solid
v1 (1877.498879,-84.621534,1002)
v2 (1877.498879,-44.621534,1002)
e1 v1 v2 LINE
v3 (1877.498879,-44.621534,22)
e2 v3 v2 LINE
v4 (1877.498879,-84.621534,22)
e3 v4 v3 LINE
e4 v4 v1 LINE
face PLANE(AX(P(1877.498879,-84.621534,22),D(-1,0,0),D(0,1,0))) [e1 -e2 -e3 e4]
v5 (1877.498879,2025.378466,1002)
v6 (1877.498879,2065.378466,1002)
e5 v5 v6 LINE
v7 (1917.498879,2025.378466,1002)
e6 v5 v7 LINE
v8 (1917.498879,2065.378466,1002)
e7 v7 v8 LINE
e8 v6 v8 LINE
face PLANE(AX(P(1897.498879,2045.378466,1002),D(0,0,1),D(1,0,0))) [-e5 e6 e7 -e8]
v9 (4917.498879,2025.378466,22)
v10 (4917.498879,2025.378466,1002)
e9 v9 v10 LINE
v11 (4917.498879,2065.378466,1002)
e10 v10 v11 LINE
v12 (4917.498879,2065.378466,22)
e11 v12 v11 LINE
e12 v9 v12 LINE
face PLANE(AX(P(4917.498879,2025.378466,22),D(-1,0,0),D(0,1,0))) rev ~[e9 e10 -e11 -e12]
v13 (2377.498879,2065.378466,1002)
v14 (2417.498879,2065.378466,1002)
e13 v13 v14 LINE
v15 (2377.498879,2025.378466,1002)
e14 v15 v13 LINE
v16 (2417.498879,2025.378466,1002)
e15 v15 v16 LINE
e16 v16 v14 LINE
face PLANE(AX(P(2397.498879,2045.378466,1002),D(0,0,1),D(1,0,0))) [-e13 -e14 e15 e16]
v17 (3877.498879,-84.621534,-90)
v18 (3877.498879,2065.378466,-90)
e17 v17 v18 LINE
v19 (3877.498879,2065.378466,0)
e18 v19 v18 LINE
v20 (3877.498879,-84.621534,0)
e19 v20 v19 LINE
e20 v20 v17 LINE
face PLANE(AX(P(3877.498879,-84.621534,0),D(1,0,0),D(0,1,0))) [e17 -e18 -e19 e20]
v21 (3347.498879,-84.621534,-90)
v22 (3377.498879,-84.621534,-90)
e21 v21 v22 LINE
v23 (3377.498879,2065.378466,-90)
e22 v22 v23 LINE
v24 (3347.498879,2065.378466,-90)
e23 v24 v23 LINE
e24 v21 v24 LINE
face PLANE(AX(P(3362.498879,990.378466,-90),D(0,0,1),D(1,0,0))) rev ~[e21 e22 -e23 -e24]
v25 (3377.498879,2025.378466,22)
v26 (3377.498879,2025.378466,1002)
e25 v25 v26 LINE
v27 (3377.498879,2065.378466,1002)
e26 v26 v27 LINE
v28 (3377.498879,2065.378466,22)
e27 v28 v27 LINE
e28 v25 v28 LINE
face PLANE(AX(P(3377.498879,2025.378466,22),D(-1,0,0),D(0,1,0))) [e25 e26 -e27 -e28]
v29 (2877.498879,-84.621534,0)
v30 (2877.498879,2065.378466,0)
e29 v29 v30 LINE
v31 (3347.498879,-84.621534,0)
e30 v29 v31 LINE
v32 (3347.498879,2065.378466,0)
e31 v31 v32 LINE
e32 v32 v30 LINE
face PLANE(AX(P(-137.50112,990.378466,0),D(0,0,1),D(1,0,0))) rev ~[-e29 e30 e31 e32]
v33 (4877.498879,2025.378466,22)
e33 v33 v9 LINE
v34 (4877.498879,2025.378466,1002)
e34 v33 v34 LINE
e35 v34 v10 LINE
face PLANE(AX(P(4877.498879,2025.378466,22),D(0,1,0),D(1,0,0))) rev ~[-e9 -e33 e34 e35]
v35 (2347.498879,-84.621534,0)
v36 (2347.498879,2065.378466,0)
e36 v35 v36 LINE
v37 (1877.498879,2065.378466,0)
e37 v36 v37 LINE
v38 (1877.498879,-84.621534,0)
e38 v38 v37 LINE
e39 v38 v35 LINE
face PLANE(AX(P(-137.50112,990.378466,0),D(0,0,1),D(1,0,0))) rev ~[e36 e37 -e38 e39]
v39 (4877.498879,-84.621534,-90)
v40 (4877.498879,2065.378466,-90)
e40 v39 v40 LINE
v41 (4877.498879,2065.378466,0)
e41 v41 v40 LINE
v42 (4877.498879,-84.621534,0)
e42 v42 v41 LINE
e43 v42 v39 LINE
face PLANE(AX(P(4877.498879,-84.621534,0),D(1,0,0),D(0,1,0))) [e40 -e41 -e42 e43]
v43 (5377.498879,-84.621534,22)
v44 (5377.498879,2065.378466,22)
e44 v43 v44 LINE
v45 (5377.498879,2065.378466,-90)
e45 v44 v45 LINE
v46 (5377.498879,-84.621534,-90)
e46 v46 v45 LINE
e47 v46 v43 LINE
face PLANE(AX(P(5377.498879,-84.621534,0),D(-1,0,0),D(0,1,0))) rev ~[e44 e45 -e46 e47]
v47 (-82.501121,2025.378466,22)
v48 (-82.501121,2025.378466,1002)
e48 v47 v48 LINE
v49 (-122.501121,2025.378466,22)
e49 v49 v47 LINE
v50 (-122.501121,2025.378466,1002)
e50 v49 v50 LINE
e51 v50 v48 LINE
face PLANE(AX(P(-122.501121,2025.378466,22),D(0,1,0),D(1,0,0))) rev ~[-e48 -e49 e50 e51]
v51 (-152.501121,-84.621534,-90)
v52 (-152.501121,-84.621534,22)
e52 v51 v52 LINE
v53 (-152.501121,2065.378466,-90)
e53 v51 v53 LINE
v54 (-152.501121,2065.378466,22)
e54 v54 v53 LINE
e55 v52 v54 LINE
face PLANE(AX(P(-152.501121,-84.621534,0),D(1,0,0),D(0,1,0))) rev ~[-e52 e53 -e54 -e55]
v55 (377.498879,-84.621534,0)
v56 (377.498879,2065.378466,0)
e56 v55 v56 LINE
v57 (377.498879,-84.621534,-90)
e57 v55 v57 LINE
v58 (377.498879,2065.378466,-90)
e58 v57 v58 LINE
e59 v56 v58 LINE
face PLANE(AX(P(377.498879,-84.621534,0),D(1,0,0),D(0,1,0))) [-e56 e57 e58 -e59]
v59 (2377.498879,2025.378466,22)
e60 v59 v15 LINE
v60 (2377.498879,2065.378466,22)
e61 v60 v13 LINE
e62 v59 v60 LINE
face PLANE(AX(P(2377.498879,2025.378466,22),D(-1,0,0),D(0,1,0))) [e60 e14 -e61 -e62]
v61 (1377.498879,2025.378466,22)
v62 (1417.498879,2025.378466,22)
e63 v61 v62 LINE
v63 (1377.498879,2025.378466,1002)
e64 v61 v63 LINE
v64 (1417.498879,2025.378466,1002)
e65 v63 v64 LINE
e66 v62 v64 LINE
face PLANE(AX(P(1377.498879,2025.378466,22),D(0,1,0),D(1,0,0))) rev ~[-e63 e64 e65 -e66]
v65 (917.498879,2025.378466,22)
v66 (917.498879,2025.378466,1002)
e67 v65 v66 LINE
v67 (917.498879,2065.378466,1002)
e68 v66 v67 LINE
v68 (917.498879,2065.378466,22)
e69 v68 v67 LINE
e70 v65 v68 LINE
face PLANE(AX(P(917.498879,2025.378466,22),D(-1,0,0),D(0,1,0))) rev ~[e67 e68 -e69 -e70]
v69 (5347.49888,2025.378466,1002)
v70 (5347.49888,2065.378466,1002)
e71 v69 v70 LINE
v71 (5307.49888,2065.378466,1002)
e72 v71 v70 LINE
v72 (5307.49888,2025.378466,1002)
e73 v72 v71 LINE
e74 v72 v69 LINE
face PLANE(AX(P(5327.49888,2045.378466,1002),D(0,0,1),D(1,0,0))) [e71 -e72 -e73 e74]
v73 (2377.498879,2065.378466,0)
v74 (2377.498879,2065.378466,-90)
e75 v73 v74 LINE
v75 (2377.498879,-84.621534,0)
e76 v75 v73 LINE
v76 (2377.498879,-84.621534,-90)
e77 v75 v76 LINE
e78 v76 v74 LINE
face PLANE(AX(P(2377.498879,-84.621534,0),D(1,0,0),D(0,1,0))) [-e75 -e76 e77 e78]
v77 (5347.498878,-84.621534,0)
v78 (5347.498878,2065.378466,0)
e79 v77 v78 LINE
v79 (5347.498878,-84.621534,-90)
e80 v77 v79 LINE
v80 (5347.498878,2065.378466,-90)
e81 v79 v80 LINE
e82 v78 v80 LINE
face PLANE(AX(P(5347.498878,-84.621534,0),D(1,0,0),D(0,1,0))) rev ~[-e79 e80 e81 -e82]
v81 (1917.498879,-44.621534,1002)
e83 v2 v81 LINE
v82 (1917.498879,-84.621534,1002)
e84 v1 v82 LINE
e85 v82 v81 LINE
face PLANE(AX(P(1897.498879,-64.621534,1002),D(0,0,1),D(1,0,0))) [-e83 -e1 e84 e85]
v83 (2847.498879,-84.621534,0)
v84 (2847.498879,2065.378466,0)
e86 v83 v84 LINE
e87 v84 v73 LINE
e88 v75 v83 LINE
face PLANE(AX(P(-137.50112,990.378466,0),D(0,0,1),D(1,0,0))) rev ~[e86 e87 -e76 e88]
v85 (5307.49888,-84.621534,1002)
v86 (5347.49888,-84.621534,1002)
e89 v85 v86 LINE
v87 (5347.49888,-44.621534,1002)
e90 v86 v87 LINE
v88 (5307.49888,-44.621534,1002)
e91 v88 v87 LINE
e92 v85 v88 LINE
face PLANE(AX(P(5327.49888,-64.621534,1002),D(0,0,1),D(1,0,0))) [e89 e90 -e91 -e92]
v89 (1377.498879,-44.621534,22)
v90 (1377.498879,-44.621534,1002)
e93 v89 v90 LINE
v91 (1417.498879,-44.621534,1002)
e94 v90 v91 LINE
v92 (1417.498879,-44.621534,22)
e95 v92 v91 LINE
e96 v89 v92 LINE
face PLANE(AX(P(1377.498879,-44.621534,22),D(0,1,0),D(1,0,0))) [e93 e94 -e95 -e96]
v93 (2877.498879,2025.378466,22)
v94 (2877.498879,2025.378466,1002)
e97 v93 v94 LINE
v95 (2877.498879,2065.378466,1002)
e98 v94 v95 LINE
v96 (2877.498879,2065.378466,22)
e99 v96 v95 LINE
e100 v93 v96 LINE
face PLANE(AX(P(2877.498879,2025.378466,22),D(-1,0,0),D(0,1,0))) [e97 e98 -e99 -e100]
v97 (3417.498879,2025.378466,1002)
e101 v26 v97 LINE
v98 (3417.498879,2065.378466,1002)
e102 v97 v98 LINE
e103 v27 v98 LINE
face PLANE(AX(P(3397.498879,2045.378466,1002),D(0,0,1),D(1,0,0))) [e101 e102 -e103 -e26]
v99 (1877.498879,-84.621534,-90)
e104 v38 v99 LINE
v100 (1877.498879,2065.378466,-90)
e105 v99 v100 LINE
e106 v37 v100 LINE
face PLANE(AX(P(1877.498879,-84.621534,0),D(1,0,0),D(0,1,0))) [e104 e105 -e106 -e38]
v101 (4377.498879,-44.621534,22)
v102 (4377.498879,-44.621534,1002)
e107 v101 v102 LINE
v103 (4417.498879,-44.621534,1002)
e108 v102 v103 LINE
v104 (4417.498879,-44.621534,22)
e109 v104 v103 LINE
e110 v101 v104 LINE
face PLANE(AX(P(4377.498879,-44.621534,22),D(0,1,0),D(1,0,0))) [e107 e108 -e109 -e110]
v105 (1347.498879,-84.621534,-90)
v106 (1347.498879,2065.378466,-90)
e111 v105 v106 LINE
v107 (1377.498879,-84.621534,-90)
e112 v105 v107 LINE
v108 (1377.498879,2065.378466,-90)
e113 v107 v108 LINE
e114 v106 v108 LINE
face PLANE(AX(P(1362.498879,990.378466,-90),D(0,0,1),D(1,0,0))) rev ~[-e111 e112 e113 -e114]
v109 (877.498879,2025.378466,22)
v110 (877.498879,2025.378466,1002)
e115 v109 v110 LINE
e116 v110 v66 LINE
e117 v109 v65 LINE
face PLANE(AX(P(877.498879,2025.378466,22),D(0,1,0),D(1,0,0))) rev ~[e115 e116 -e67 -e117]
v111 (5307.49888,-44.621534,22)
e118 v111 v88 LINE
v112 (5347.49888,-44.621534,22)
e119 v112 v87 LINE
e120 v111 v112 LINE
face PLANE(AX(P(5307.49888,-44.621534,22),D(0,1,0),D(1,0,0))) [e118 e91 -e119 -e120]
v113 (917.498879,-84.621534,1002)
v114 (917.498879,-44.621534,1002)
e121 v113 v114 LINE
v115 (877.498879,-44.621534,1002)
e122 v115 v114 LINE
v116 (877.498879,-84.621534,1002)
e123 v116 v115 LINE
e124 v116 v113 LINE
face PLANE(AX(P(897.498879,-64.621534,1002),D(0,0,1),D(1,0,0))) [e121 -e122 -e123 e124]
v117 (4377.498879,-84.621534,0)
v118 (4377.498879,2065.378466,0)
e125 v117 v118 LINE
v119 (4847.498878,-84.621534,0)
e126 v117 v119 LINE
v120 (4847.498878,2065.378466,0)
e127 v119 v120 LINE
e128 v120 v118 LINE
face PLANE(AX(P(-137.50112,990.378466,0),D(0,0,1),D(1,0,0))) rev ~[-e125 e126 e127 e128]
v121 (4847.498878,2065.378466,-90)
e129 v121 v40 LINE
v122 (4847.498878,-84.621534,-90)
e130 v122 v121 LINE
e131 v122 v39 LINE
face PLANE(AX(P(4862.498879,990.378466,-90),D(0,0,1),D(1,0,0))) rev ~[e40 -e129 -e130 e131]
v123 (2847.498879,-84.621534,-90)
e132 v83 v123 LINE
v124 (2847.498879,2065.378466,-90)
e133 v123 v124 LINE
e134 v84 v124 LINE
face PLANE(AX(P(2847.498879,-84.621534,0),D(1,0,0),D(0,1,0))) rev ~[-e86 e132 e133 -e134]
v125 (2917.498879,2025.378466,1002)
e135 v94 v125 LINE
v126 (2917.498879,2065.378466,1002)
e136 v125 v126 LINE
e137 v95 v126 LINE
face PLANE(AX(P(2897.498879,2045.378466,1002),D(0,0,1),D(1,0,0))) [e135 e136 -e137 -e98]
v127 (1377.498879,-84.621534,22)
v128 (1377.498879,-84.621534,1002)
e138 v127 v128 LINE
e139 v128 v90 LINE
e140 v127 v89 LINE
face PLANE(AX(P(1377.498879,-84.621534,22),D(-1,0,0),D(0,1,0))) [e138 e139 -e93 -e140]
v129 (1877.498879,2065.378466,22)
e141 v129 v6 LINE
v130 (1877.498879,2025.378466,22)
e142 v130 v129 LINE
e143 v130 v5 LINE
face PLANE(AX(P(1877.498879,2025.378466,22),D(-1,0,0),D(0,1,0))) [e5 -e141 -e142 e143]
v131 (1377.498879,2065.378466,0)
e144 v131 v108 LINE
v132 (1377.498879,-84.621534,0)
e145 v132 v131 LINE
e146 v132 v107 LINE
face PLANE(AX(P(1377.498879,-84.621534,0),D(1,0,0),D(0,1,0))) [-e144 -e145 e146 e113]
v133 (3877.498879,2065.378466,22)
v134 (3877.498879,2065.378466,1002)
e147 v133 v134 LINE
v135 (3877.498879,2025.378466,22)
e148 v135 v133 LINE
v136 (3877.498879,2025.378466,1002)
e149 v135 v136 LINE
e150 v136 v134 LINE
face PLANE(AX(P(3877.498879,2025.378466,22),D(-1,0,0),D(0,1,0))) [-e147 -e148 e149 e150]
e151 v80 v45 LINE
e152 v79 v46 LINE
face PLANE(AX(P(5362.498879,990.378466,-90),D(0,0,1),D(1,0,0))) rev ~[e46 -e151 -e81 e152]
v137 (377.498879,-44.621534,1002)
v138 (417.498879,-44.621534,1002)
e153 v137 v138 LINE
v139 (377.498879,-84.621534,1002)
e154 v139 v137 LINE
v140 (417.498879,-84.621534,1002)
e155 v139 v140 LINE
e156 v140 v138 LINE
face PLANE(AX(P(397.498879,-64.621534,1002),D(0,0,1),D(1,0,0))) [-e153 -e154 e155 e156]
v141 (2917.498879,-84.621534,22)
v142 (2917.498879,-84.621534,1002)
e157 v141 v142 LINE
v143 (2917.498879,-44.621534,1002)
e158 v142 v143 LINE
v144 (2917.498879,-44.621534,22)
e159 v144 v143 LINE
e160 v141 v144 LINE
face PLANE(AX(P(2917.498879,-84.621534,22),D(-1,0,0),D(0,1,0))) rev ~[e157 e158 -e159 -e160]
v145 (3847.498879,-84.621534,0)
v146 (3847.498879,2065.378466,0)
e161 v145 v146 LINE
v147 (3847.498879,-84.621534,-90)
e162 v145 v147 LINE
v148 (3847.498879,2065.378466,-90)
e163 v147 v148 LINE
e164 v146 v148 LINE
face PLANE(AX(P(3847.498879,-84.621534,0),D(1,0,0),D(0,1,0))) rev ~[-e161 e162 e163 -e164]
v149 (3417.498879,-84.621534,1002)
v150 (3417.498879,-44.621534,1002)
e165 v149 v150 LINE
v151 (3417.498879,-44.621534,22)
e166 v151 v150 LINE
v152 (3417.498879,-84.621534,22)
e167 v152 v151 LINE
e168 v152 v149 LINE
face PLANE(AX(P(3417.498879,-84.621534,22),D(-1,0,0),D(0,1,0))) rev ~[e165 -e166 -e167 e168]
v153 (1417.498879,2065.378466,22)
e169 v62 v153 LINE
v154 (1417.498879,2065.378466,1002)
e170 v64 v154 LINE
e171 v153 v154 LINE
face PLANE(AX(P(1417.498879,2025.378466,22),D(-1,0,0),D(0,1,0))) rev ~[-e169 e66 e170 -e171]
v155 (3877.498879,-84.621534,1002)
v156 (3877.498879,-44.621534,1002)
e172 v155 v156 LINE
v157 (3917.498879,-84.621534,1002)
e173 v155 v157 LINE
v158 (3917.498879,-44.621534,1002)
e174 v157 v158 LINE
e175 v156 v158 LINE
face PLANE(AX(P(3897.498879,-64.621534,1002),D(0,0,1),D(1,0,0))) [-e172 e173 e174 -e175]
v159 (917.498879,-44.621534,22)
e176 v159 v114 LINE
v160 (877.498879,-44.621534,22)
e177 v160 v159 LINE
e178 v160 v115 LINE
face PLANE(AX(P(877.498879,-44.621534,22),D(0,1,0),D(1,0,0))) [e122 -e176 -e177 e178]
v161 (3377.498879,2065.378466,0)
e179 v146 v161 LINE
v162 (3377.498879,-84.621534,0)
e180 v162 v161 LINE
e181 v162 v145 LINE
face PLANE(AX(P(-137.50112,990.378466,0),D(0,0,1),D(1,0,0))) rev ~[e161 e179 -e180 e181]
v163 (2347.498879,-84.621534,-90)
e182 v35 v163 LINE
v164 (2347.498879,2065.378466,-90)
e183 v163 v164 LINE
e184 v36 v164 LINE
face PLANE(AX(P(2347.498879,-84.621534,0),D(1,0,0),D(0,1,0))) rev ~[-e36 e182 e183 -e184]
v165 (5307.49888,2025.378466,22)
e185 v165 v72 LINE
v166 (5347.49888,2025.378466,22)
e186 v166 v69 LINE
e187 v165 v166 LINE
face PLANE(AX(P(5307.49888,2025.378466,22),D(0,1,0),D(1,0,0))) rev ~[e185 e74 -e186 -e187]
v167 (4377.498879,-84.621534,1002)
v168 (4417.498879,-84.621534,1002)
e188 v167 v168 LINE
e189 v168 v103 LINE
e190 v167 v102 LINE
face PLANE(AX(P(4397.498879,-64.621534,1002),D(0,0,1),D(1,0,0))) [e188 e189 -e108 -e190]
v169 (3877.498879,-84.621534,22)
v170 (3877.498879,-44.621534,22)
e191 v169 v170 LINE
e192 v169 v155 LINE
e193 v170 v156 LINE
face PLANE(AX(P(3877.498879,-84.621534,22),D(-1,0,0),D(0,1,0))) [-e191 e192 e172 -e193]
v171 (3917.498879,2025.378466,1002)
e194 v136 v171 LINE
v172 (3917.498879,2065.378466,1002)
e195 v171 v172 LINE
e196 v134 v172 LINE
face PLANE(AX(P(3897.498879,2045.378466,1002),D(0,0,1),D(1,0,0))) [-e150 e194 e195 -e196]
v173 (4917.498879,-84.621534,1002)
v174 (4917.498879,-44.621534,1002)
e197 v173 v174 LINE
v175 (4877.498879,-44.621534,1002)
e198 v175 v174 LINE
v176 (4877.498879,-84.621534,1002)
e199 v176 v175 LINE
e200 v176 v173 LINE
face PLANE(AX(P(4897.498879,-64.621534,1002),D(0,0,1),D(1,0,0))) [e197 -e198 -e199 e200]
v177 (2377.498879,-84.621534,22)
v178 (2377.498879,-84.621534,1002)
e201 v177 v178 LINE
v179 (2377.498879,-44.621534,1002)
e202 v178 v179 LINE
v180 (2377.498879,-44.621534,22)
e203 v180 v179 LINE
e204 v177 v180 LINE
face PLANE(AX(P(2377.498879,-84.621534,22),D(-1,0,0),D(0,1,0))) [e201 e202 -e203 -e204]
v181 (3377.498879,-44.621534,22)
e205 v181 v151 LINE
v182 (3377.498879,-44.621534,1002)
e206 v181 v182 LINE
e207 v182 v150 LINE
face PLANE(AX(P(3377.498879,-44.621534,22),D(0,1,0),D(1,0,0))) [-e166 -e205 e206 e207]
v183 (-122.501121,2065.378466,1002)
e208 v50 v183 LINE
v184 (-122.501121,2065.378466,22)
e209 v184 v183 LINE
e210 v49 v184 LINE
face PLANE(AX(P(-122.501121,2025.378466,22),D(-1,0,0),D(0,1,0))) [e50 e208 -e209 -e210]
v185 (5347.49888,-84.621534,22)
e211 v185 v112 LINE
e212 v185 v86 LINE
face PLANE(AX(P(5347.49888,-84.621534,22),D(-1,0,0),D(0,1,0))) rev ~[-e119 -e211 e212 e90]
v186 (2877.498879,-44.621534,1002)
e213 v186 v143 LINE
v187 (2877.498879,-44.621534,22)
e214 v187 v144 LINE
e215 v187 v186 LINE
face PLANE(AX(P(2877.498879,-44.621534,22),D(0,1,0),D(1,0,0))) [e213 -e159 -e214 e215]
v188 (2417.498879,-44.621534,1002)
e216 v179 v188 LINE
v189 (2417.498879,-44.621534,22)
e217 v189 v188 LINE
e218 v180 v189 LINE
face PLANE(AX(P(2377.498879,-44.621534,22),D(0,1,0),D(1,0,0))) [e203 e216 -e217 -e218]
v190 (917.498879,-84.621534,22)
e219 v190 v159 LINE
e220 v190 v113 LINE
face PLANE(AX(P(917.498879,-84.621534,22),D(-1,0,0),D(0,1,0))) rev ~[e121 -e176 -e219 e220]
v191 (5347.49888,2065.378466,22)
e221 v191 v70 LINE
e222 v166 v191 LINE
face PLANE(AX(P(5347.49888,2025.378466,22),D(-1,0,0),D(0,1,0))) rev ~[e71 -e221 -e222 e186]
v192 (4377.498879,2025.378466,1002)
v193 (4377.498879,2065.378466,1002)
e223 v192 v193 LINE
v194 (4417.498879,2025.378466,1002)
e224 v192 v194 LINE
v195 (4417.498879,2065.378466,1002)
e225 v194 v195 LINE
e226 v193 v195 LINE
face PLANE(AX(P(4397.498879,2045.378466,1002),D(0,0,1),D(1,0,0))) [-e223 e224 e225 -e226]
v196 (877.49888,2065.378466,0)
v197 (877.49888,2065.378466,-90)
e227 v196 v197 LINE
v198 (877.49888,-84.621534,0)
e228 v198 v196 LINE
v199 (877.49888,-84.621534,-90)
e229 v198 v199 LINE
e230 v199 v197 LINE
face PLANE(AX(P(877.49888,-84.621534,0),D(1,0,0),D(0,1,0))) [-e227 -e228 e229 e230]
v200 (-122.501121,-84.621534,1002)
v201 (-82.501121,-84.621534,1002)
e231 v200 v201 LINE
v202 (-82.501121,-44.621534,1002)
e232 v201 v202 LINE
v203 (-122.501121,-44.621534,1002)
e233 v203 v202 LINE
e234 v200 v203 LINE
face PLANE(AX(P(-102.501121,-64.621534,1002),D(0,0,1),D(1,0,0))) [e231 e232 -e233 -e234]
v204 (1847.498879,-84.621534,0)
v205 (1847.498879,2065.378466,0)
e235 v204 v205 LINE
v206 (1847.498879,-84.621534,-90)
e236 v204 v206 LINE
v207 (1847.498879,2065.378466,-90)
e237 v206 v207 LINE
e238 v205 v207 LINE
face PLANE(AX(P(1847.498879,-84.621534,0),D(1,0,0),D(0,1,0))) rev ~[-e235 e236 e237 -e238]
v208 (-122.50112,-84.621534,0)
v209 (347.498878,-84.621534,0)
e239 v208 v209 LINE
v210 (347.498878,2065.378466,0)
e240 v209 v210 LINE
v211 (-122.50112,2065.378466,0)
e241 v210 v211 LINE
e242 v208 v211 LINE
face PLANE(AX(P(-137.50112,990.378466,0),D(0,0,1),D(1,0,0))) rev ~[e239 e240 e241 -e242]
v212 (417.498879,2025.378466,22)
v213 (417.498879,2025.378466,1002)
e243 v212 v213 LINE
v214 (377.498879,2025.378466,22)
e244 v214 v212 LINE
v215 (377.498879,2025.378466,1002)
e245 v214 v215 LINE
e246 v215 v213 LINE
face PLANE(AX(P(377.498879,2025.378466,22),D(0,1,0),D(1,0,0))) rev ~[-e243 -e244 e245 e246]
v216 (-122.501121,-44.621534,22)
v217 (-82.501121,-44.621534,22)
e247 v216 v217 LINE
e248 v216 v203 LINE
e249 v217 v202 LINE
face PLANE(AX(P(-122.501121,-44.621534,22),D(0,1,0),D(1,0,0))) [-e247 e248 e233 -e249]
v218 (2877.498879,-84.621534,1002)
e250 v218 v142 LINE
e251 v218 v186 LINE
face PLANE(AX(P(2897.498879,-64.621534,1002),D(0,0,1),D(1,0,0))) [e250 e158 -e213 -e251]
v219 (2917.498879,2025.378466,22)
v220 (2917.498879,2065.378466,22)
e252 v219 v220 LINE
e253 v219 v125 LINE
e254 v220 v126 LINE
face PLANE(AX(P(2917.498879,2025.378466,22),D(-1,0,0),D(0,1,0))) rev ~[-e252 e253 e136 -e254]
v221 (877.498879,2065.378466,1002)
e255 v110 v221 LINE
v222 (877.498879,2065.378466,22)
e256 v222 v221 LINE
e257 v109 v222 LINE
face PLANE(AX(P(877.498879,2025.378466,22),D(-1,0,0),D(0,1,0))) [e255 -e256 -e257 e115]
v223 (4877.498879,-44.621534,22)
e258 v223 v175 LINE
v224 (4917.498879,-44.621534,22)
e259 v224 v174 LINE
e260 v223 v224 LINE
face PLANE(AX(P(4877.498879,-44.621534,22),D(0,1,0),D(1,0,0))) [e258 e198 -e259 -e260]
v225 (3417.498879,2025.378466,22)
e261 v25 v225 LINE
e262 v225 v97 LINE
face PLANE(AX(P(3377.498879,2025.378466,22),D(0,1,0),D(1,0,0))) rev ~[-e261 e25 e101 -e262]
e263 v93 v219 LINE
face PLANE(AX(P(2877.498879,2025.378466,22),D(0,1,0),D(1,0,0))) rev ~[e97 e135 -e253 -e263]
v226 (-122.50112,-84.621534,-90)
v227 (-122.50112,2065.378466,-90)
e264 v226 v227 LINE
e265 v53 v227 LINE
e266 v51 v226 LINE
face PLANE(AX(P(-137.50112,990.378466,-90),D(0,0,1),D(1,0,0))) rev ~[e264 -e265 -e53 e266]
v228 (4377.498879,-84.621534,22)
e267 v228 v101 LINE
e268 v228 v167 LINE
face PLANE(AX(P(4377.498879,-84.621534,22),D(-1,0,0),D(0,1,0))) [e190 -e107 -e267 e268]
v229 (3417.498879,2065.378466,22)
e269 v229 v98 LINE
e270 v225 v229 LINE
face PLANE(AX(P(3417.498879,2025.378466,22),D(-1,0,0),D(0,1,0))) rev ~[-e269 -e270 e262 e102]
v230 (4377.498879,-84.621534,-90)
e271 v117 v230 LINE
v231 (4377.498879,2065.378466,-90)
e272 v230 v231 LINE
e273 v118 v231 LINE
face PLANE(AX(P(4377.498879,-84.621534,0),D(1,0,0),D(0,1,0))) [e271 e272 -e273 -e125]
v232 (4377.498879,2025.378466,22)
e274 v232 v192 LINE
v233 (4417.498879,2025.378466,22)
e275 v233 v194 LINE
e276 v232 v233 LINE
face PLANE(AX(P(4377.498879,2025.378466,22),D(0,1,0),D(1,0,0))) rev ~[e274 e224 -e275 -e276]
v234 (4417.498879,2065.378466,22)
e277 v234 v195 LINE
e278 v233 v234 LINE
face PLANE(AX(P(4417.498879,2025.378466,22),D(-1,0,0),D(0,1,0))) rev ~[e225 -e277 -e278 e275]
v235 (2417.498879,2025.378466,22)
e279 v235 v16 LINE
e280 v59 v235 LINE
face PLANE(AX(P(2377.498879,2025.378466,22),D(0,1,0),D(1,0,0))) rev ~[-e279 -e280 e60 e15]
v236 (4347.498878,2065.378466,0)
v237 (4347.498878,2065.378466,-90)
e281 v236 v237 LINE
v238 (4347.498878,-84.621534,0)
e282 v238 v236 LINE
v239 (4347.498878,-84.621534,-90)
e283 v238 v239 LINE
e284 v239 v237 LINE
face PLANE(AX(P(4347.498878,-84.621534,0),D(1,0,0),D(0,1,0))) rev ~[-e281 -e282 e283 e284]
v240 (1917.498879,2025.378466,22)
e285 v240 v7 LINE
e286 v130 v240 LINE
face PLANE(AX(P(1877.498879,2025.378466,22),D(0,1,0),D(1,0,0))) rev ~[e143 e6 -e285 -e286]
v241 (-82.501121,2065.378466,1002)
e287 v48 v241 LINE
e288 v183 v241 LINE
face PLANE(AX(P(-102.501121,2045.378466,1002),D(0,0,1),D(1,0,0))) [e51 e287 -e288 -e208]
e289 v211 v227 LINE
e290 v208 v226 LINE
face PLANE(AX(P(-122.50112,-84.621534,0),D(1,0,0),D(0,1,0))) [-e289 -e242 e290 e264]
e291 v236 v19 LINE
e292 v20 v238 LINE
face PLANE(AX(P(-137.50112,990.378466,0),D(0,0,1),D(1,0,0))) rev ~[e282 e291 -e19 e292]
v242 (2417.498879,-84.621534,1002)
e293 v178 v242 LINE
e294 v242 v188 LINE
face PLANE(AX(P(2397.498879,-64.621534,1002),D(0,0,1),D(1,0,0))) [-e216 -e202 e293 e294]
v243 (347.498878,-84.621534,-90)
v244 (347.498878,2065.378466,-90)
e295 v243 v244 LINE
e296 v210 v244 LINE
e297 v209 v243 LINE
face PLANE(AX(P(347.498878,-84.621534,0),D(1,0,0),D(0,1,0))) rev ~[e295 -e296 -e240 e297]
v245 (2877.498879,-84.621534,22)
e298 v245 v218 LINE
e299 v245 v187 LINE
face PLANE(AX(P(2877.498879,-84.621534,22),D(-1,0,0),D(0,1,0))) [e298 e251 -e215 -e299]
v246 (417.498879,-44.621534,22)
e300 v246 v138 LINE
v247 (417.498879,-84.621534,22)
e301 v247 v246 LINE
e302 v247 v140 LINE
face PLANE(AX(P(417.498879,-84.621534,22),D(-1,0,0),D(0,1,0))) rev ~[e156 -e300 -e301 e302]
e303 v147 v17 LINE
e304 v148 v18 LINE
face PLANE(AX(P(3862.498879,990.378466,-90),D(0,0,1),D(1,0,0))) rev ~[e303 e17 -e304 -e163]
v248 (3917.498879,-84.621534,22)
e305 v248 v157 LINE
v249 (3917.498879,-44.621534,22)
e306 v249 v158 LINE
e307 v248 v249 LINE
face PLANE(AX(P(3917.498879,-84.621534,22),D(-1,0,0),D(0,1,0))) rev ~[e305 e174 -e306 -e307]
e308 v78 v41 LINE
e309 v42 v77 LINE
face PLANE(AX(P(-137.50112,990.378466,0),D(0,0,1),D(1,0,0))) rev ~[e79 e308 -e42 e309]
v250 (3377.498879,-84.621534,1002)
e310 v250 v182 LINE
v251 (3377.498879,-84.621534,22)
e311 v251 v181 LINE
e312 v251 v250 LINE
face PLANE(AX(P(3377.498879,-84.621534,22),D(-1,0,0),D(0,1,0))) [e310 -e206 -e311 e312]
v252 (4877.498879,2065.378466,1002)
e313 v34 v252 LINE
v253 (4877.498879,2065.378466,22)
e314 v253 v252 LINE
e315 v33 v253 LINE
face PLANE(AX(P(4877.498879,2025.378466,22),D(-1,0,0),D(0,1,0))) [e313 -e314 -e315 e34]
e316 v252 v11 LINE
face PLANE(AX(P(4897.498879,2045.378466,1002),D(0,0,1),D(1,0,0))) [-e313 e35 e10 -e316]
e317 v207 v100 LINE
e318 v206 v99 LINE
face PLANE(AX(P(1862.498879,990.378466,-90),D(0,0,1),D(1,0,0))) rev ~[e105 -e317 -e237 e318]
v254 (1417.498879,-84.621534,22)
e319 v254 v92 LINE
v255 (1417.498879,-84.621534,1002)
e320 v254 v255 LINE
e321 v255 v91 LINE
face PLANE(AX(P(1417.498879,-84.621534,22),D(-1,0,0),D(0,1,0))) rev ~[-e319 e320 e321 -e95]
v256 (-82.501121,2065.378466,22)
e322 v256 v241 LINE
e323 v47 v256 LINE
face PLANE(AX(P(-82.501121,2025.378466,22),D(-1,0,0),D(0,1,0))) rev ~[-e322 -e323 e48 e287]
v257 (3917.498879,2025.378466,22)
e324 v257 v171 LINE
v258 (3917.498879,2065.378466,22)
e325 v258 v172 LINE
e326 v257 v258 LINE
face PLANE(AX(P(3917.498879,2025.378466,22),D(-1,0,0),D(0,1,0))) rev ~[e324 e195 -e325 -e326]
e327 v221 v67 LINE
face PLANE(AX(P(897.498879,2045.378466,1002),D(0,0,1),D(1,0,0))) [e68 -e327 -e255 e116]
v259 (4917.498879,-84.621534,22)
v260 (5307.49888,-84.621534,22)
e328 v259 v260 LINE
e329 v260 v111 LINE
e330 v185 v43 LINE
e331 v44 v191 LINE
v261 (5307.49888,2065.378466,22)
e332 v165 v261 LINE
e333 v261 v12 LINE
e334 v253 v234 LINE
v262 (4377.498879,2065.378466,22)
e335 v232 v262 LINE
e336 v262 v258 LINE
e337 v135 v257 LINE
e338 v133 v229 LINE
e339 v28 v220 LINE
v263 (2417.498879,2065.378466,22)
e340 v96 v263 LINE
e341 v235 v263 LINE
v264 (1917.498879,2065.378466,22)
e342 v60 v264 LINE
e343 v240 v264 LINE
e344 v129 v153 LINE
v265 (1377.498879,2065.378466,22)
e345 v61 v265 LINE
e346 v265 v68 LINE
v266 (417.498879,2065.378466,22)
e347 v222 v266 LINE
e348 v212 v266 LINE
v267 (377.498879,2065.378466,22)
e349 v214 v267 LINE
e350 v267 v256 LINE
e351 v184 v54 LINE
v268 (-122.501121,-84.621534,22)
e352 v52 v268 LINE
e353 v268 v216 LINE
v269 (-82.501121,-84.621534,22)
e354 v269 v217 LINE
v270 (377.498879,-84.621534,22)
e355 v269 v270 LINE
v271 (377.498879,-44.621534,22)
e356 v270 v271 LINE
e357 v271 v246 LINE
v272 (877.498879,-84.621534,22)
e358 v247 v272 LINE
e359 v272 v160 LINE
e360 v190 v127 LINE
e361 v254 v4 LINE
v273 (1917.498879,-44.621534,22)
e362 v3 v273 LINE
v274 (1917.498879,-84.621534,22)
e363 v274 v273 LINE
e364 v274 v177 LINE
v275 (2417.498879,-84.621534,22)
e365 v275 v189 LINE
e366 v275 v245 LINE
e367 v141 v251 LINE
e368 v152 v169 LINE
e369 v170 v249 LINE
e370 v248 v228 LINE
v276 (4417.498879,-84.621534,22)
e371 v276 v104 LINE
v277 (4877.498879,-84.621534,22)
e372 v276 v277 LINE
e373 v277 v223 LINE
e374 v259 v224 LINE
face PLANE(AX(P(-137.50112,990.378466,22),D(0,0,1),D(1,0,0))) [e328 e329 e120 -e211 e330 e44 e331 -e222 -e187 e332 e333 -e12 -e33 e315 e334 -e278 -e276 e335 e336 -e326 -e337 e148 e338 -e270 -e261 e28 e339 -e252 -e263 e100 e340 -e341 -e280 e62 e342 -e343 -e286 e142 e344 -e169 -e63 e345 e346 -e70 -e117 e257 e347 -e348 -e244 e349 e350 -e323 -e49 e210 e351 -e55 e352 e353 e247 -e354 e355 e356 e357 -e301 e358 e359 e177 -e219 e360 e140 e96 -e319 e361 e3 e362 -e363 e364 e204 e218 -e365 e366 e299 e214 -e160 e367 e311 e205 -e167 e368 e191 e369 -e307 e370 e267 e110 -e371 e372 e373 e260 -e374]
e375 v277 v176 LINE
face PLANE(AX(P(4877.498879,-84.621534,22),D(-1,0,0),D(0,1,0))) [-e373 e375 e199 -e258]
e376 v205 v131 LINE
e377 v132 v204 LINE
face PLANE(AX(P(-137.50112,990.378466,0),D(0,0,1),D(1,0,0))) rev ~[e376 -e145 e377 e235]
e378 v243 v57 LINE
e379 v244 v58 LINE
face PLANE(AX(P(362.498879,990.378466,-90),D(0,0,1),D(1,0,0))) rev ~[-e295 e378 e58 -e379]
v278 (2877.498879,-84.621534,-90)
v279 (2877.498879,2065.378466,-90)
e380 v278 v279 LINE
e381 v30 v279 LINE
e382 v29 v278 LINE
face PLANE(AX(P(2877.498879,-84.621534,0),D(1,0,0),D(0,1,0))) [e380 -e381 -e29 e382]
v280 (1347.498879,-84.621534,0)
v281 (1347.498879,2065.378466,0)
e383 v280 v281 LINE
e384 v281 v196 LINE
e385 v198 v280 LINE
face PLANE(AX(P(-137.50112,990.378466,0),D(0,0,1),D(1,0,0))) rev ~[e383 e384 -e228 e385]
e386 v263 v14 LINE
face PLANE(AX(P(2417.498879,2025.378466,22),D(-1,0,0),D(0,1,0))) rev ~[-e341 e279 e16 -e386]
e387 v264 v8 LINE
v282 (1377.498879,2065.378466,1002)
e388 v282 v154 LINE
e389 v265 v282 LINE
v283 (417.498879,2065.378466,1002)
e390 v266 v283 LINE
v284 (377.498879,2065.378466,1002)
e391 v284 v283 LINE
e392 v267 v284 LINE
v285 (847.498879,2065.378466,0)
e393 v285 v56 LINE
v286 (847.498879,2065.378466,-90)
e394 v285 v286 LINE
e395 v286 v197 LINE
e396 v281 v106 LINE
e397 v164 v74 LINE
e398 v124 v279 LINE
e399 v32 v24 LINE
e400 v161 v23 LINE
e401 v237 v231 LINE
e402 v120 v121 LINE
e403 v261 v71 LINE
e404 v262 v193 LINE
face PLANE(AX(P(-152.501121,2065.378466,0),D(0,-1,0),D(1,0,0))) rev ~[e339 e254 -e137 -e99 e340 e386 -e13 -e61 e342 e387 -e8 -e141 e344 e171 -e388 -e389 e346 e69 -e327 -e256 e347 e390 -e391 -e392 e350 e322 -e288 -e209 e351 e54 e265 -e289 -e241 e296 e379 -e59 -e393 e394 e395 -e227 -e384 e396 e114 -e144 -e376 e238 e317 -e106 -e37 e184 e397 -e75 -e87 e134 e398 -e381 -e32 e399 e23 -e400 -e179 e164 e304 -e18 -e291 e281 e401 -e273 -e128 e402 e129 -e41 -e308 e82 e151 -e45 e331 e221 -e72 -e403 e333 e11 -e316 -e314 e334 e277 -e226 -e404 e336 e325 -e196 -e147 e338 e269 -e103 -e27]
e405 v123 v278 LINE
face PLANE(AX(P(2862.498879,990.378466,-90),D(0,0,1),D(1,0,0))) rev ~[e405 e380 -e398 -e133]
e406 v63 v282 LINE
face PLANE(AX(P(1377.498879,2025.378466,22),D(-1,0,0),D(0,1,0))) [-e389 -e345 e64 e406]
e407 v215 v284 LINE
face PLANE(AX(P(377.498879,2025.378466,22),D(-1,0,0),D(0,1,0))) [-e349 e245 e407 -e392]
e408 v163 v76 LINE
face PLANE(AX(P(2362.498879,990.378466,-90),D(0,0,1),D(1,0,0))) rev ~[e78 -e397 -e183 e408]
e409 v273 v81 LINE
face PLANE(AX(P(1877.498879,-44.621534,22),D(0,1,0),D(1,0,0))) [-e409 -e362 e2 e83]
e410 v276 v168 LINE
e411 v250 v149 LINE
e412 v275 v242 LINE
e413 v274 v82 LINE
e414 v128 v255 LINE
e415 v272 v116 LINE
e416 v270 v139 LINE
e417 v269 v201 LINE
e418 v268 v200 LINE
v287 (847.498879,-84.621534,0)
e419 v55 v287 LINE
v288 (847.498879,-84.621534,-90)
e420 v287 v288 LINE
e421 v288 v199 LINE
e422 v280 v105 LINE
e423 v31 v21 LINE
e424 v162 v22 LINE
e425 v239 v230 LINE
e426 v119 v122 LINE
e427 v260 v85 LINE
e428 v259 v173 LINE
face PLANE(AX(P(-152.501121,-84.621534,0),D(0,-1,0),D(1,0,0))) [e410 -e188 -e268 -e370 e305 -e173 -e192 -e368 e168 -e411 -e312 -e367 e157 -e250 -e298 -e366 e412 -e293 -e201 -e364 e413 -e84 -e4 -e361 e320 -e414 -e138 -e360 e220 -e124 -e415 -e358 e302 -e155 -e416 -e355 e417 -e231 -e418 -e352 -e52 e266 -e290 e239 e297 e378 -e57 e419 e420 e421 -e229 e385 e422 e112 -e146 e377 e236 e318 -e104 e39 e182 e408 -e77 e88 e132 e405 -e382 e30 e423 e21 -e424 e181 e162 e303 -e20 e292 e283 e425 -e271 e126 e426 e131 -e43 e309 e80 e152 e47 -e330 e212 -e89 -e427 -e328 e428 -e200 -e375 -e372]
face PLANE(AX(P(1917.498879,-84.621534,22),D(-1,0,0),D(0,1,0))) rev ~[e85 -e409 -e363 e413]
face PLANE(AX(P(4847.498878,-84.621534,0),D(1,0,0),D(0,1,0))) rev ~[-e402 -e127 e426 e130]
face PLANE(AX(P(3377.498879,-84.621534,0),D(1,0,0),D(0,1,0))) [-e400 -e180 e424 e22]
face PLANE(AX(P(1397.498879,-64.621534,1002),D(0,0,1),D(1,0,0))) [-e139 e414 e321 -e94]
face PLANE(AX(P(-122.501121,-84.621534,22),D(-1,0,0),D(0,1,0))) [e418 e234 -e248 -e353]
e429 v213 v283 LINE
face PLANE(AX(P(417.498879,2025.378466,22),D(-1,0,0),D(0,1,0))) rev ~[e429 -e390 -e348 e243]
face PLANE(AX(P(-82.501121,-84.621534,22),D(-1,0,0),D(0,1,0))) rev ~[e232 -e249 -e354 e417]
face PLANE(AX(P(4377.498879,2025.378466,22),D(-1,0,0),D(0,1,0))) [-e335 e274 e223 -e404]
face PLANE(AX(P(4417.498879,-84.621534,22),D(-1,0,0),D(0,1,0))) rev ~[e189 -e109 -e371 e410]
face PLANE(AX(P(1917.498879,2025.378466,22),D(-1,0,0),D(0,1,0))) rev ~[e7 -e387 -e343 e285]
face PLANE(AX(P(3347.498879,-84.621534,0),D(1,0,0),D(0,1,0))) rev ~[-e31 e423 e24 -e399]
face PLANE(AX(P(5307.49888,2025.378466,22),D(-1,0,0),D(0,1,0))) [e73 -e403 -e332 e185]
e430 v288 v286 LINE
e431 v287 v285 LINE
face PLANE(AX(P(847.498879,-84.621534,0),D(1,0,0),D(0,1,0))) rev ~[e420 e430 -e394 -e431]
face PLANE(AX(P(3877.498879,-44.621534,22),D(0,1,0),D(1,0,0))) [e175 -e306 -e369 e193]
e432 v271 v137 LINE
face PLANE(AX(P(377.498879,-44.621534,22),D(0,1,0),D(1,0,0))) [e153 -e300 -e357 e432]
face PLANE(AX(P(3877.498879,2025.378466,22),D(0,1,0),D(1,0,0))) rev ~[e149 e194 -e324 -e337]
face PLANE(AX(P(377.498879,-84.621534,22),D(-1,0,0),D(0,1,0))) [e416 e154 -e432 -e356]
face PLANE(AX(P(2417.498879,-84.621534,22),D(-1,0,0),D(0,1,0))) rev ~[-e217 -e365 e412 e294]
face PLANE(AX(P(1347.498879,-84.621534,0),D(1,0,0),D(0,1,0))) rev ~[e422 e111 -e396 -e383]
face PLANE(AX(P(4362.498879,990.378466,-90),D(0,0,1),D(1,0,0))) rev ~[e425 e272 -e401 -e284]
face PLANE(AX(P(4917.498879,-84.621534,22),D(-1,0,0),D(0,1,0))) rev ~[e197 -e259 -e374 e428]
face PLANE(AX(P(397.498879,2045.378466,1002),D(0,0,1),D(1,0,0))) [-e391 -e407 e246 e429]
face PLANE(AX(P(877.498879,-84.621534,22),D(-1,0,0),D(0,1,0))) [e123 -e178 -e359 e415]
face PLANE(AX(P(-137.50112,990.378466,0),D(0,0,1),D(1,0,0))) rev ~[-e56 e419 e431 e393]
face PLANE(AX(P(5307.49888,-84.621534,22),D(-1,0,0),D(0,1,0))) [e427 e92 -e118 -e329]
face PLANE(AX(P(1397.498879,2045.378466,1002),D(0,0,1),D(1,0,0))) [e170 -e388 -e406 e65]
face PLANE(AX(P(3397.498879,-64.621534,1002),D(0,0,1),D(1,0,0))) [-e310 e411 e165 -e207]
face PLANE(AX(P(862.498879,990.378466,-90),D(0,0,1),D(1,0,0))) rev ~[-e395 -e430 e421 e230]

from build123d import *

# Parameters (mm, degrees)
F0_W     = 30.000001
F0_H     = 2150
F0_W_2   = 469.999999
F1_DEPTH = 22
F2_DEPTH = 90
F3_W     = 40
F3_H     = 40
F4_DEPTH = 980


with BuildPart() as f1:
    # F0 (on Top) → F1 (new body)
    with BuildSketch(Plane.XY):
        with Locations((-137.50112, 990.378466)):
            Rectangle(F0_W, F0_H)
        with Locations((112.498879, 990.378466)):
            Rectangle(F0_W_2, F0_H)
        with Locations((362.498879, 990.378466)):
            Rectangle(F0_W, F0_H)
        with Locations((612.498879, 990.378466)):
            Rectangle(F0_W_2, F0_H)
        with Locations((862.498879, 990.378466)):
            Rectangle(F0_W, F0_H)
        with Locations((1112.498879, 990.378466)):
            Rectangle(F0_W_2, F0_H)
        with Locations((1362.498879, 990.378466)):
            Rectangle(F0_W, F0_H)
        with Locations((1612.498879, 990.378466)):
            Rectangle(F0_W_2, F0_H)
        with Locations((1862.498879, 990.378466)):
            Rectangle(F0_W, F0_H)
        with Locations((2112.498879, 990.378466)):
            Rectangle(F0_W_2, F0_H)
        with Locations((2362.498879, 990.378466)):
            Rectangle(F0_W, F0_H)
        with Locations((2612.498879, 990.378466)):
            Rectangle(F0_W_2, F0_H)
        with Locations((2862.498879, 990.378466)):
            Rectangle(F0_W, F0_H)
        with Locations((3112.498879, 990.378466)):
            Rectangle(F0_W_2, F0_H)
        with Locations((3362.498879, 990.378466)):
            Rectangle(F0_W, F0_H)
        with Locations((3612.498879, 990.378466)):
            Rectangle(F0_W_2, F0_H)
        with Locations((3862.498879, 990.378466)):
            Rectangle(F0_W, F0_H)
        with Locations((4112.498879, 990.378466)):
            Rectangle(F0_W_2, F0_H)
        with Locations((4362.498879, 990.378466)):
            Rectangle(F0_W, F0_H)
        with Locations((4612.498879, 990.378466)):
            Rectangle(F0_W_2, F0_H)
        with Locations((4862.498879, 990.378466)):
            Rectangle(F0_W, F0_H)
        with Locations((5112.498879, 990.378466)):
            Rectangle(F0_W_2, F0_H)
        with Locations((5362.498879, 990.378466)):
            Rectangle(F0_W, F0_H)
    extrude(amount=F1_DEPTH)

    # F0 (on Top) → F2 (join)
    with BuildSketch(Plane.XY):
        with Locations((-137.50112, 990.378466)):
            Rectangle(F0_W, F0_H)
        with Locations((362.498879, 990.378466)):
            Rectangle(F0_W, F0_H)
        with Locations((862.498879, 990.378466)):
            Rectangle(F0_W, F0_H)
        with Locations((1362.498879, 990.378466)):
            Rectangle(F0_W, F0_H)
        with Locations((1862.498879, 990.378466)):
            Rectangle(F0_W, F0_H)
        with Locations((2362.498879, 990.378466)):
            Rectangle(F0_W, F0_H)
        with Locations((2862.498879, 990.378466)):
            Rectangle(F0_W, F0_H)
        with Locations((3362.498879, 990.378466)):
            Rectangle(F0_W, F0_H)
        with Locations((3862.498879, 990.378466)):
            Rectangle(F0_W, F0_H)
        with Locations((4362.498879, 990.378466)):
            Rectangle(F0_W, F0_H)
        with Locations((4862.498879, 990.378466)):
            Rectangle(F0_W, F0_H)
        with Locations((5362.498879, 990.378466)):
            Rectangle(F0_W, F0_H)
    extrude(amount=-F2_DEPTH)

    # F3 (on face) → F4 (join)
    with BuildSketch(Plane.XY.offset(22)):
        with Locations((-102.501121, -64.621534)):
            Rectangle(F3_W, F3_H)
        with Locations((397.498879, -64.621534)):
            Rectangle(F3_W, F3_H)
        with Locations((897.498879, -64.621534)):
            Rectangle(F3_W, F3_H)
        with Locations((-102.501121, 2045.378466)):
            Rectangle(F3_W, F3_H)
        with Locations((397.498879, 2045.378466)):
            Rectangle(F3_W, F3_H)
        with Locations((897.498879, 2045.378466)):
            Rectangle(F3_W, F3_H)
        with Locations((1397.498879, 2045.378466)):
            Rectangle(F3_W, F3_H)
        with Locations((1897.498879, 2045.378466)):
            Rectangle(F3_W, F3_H)
        with Locations((2397.498879, 2045.378466)):
            Rectangle(F3_W, F3_H)
        with Locations((2897.498879, 2045.378466)):
            Rectangle(F3_W, F3_H)
        with Locations((3397.498879, 2045.378466)):
            Rectangle(F3_W, F3_H)
        with Locations((3897.498879, 2045.378466)):
            Rectangle(F3_W, F3_H)
        with Locations((4397.498879, 2045.378466)):
            Rectangle(F3_W, F3_H)
        with Locations((4897.498879, 2045.378466)):
            Rectangle(F3_W, F3_H)
        with Locations((5327.49888, 2045.378466)):
            Rectangle(F3_W, F3_H)
        with Locations((1397.498879, -64.621534)):
            Rectangle(F3_W, F3_H)
        with Locations((1897.498879, -64.621534)):
            Rectangle(F3_W, F3_H)
        with Locations((2397.498879, -64.621534)):
            Rectangle(F3_W, F3_H)
        with Locations((2897.498879, -64.621534)):
            Rectangle(F3_W, F3_H)
        with Locations((3397.498879, -64.621534)):
            Rectangle(F3_W, F3_H)
        with Locations((3897.498879, -64.621534)):
            Rectangle(F3_W, F3_H)
        with Locations((4397.498879, -64.621534)):
            Rectangle(F3_W, F3_H)
        with Locations((4897.498879, -64.621534)):
            Rectangle(F3_W, F3_H)
        with Locations((5327.49888, -64.621534)):
            Rectangle(F3_W, F3_H)
    extrude(amount=F4_DEPTH)


solid = f1.part
